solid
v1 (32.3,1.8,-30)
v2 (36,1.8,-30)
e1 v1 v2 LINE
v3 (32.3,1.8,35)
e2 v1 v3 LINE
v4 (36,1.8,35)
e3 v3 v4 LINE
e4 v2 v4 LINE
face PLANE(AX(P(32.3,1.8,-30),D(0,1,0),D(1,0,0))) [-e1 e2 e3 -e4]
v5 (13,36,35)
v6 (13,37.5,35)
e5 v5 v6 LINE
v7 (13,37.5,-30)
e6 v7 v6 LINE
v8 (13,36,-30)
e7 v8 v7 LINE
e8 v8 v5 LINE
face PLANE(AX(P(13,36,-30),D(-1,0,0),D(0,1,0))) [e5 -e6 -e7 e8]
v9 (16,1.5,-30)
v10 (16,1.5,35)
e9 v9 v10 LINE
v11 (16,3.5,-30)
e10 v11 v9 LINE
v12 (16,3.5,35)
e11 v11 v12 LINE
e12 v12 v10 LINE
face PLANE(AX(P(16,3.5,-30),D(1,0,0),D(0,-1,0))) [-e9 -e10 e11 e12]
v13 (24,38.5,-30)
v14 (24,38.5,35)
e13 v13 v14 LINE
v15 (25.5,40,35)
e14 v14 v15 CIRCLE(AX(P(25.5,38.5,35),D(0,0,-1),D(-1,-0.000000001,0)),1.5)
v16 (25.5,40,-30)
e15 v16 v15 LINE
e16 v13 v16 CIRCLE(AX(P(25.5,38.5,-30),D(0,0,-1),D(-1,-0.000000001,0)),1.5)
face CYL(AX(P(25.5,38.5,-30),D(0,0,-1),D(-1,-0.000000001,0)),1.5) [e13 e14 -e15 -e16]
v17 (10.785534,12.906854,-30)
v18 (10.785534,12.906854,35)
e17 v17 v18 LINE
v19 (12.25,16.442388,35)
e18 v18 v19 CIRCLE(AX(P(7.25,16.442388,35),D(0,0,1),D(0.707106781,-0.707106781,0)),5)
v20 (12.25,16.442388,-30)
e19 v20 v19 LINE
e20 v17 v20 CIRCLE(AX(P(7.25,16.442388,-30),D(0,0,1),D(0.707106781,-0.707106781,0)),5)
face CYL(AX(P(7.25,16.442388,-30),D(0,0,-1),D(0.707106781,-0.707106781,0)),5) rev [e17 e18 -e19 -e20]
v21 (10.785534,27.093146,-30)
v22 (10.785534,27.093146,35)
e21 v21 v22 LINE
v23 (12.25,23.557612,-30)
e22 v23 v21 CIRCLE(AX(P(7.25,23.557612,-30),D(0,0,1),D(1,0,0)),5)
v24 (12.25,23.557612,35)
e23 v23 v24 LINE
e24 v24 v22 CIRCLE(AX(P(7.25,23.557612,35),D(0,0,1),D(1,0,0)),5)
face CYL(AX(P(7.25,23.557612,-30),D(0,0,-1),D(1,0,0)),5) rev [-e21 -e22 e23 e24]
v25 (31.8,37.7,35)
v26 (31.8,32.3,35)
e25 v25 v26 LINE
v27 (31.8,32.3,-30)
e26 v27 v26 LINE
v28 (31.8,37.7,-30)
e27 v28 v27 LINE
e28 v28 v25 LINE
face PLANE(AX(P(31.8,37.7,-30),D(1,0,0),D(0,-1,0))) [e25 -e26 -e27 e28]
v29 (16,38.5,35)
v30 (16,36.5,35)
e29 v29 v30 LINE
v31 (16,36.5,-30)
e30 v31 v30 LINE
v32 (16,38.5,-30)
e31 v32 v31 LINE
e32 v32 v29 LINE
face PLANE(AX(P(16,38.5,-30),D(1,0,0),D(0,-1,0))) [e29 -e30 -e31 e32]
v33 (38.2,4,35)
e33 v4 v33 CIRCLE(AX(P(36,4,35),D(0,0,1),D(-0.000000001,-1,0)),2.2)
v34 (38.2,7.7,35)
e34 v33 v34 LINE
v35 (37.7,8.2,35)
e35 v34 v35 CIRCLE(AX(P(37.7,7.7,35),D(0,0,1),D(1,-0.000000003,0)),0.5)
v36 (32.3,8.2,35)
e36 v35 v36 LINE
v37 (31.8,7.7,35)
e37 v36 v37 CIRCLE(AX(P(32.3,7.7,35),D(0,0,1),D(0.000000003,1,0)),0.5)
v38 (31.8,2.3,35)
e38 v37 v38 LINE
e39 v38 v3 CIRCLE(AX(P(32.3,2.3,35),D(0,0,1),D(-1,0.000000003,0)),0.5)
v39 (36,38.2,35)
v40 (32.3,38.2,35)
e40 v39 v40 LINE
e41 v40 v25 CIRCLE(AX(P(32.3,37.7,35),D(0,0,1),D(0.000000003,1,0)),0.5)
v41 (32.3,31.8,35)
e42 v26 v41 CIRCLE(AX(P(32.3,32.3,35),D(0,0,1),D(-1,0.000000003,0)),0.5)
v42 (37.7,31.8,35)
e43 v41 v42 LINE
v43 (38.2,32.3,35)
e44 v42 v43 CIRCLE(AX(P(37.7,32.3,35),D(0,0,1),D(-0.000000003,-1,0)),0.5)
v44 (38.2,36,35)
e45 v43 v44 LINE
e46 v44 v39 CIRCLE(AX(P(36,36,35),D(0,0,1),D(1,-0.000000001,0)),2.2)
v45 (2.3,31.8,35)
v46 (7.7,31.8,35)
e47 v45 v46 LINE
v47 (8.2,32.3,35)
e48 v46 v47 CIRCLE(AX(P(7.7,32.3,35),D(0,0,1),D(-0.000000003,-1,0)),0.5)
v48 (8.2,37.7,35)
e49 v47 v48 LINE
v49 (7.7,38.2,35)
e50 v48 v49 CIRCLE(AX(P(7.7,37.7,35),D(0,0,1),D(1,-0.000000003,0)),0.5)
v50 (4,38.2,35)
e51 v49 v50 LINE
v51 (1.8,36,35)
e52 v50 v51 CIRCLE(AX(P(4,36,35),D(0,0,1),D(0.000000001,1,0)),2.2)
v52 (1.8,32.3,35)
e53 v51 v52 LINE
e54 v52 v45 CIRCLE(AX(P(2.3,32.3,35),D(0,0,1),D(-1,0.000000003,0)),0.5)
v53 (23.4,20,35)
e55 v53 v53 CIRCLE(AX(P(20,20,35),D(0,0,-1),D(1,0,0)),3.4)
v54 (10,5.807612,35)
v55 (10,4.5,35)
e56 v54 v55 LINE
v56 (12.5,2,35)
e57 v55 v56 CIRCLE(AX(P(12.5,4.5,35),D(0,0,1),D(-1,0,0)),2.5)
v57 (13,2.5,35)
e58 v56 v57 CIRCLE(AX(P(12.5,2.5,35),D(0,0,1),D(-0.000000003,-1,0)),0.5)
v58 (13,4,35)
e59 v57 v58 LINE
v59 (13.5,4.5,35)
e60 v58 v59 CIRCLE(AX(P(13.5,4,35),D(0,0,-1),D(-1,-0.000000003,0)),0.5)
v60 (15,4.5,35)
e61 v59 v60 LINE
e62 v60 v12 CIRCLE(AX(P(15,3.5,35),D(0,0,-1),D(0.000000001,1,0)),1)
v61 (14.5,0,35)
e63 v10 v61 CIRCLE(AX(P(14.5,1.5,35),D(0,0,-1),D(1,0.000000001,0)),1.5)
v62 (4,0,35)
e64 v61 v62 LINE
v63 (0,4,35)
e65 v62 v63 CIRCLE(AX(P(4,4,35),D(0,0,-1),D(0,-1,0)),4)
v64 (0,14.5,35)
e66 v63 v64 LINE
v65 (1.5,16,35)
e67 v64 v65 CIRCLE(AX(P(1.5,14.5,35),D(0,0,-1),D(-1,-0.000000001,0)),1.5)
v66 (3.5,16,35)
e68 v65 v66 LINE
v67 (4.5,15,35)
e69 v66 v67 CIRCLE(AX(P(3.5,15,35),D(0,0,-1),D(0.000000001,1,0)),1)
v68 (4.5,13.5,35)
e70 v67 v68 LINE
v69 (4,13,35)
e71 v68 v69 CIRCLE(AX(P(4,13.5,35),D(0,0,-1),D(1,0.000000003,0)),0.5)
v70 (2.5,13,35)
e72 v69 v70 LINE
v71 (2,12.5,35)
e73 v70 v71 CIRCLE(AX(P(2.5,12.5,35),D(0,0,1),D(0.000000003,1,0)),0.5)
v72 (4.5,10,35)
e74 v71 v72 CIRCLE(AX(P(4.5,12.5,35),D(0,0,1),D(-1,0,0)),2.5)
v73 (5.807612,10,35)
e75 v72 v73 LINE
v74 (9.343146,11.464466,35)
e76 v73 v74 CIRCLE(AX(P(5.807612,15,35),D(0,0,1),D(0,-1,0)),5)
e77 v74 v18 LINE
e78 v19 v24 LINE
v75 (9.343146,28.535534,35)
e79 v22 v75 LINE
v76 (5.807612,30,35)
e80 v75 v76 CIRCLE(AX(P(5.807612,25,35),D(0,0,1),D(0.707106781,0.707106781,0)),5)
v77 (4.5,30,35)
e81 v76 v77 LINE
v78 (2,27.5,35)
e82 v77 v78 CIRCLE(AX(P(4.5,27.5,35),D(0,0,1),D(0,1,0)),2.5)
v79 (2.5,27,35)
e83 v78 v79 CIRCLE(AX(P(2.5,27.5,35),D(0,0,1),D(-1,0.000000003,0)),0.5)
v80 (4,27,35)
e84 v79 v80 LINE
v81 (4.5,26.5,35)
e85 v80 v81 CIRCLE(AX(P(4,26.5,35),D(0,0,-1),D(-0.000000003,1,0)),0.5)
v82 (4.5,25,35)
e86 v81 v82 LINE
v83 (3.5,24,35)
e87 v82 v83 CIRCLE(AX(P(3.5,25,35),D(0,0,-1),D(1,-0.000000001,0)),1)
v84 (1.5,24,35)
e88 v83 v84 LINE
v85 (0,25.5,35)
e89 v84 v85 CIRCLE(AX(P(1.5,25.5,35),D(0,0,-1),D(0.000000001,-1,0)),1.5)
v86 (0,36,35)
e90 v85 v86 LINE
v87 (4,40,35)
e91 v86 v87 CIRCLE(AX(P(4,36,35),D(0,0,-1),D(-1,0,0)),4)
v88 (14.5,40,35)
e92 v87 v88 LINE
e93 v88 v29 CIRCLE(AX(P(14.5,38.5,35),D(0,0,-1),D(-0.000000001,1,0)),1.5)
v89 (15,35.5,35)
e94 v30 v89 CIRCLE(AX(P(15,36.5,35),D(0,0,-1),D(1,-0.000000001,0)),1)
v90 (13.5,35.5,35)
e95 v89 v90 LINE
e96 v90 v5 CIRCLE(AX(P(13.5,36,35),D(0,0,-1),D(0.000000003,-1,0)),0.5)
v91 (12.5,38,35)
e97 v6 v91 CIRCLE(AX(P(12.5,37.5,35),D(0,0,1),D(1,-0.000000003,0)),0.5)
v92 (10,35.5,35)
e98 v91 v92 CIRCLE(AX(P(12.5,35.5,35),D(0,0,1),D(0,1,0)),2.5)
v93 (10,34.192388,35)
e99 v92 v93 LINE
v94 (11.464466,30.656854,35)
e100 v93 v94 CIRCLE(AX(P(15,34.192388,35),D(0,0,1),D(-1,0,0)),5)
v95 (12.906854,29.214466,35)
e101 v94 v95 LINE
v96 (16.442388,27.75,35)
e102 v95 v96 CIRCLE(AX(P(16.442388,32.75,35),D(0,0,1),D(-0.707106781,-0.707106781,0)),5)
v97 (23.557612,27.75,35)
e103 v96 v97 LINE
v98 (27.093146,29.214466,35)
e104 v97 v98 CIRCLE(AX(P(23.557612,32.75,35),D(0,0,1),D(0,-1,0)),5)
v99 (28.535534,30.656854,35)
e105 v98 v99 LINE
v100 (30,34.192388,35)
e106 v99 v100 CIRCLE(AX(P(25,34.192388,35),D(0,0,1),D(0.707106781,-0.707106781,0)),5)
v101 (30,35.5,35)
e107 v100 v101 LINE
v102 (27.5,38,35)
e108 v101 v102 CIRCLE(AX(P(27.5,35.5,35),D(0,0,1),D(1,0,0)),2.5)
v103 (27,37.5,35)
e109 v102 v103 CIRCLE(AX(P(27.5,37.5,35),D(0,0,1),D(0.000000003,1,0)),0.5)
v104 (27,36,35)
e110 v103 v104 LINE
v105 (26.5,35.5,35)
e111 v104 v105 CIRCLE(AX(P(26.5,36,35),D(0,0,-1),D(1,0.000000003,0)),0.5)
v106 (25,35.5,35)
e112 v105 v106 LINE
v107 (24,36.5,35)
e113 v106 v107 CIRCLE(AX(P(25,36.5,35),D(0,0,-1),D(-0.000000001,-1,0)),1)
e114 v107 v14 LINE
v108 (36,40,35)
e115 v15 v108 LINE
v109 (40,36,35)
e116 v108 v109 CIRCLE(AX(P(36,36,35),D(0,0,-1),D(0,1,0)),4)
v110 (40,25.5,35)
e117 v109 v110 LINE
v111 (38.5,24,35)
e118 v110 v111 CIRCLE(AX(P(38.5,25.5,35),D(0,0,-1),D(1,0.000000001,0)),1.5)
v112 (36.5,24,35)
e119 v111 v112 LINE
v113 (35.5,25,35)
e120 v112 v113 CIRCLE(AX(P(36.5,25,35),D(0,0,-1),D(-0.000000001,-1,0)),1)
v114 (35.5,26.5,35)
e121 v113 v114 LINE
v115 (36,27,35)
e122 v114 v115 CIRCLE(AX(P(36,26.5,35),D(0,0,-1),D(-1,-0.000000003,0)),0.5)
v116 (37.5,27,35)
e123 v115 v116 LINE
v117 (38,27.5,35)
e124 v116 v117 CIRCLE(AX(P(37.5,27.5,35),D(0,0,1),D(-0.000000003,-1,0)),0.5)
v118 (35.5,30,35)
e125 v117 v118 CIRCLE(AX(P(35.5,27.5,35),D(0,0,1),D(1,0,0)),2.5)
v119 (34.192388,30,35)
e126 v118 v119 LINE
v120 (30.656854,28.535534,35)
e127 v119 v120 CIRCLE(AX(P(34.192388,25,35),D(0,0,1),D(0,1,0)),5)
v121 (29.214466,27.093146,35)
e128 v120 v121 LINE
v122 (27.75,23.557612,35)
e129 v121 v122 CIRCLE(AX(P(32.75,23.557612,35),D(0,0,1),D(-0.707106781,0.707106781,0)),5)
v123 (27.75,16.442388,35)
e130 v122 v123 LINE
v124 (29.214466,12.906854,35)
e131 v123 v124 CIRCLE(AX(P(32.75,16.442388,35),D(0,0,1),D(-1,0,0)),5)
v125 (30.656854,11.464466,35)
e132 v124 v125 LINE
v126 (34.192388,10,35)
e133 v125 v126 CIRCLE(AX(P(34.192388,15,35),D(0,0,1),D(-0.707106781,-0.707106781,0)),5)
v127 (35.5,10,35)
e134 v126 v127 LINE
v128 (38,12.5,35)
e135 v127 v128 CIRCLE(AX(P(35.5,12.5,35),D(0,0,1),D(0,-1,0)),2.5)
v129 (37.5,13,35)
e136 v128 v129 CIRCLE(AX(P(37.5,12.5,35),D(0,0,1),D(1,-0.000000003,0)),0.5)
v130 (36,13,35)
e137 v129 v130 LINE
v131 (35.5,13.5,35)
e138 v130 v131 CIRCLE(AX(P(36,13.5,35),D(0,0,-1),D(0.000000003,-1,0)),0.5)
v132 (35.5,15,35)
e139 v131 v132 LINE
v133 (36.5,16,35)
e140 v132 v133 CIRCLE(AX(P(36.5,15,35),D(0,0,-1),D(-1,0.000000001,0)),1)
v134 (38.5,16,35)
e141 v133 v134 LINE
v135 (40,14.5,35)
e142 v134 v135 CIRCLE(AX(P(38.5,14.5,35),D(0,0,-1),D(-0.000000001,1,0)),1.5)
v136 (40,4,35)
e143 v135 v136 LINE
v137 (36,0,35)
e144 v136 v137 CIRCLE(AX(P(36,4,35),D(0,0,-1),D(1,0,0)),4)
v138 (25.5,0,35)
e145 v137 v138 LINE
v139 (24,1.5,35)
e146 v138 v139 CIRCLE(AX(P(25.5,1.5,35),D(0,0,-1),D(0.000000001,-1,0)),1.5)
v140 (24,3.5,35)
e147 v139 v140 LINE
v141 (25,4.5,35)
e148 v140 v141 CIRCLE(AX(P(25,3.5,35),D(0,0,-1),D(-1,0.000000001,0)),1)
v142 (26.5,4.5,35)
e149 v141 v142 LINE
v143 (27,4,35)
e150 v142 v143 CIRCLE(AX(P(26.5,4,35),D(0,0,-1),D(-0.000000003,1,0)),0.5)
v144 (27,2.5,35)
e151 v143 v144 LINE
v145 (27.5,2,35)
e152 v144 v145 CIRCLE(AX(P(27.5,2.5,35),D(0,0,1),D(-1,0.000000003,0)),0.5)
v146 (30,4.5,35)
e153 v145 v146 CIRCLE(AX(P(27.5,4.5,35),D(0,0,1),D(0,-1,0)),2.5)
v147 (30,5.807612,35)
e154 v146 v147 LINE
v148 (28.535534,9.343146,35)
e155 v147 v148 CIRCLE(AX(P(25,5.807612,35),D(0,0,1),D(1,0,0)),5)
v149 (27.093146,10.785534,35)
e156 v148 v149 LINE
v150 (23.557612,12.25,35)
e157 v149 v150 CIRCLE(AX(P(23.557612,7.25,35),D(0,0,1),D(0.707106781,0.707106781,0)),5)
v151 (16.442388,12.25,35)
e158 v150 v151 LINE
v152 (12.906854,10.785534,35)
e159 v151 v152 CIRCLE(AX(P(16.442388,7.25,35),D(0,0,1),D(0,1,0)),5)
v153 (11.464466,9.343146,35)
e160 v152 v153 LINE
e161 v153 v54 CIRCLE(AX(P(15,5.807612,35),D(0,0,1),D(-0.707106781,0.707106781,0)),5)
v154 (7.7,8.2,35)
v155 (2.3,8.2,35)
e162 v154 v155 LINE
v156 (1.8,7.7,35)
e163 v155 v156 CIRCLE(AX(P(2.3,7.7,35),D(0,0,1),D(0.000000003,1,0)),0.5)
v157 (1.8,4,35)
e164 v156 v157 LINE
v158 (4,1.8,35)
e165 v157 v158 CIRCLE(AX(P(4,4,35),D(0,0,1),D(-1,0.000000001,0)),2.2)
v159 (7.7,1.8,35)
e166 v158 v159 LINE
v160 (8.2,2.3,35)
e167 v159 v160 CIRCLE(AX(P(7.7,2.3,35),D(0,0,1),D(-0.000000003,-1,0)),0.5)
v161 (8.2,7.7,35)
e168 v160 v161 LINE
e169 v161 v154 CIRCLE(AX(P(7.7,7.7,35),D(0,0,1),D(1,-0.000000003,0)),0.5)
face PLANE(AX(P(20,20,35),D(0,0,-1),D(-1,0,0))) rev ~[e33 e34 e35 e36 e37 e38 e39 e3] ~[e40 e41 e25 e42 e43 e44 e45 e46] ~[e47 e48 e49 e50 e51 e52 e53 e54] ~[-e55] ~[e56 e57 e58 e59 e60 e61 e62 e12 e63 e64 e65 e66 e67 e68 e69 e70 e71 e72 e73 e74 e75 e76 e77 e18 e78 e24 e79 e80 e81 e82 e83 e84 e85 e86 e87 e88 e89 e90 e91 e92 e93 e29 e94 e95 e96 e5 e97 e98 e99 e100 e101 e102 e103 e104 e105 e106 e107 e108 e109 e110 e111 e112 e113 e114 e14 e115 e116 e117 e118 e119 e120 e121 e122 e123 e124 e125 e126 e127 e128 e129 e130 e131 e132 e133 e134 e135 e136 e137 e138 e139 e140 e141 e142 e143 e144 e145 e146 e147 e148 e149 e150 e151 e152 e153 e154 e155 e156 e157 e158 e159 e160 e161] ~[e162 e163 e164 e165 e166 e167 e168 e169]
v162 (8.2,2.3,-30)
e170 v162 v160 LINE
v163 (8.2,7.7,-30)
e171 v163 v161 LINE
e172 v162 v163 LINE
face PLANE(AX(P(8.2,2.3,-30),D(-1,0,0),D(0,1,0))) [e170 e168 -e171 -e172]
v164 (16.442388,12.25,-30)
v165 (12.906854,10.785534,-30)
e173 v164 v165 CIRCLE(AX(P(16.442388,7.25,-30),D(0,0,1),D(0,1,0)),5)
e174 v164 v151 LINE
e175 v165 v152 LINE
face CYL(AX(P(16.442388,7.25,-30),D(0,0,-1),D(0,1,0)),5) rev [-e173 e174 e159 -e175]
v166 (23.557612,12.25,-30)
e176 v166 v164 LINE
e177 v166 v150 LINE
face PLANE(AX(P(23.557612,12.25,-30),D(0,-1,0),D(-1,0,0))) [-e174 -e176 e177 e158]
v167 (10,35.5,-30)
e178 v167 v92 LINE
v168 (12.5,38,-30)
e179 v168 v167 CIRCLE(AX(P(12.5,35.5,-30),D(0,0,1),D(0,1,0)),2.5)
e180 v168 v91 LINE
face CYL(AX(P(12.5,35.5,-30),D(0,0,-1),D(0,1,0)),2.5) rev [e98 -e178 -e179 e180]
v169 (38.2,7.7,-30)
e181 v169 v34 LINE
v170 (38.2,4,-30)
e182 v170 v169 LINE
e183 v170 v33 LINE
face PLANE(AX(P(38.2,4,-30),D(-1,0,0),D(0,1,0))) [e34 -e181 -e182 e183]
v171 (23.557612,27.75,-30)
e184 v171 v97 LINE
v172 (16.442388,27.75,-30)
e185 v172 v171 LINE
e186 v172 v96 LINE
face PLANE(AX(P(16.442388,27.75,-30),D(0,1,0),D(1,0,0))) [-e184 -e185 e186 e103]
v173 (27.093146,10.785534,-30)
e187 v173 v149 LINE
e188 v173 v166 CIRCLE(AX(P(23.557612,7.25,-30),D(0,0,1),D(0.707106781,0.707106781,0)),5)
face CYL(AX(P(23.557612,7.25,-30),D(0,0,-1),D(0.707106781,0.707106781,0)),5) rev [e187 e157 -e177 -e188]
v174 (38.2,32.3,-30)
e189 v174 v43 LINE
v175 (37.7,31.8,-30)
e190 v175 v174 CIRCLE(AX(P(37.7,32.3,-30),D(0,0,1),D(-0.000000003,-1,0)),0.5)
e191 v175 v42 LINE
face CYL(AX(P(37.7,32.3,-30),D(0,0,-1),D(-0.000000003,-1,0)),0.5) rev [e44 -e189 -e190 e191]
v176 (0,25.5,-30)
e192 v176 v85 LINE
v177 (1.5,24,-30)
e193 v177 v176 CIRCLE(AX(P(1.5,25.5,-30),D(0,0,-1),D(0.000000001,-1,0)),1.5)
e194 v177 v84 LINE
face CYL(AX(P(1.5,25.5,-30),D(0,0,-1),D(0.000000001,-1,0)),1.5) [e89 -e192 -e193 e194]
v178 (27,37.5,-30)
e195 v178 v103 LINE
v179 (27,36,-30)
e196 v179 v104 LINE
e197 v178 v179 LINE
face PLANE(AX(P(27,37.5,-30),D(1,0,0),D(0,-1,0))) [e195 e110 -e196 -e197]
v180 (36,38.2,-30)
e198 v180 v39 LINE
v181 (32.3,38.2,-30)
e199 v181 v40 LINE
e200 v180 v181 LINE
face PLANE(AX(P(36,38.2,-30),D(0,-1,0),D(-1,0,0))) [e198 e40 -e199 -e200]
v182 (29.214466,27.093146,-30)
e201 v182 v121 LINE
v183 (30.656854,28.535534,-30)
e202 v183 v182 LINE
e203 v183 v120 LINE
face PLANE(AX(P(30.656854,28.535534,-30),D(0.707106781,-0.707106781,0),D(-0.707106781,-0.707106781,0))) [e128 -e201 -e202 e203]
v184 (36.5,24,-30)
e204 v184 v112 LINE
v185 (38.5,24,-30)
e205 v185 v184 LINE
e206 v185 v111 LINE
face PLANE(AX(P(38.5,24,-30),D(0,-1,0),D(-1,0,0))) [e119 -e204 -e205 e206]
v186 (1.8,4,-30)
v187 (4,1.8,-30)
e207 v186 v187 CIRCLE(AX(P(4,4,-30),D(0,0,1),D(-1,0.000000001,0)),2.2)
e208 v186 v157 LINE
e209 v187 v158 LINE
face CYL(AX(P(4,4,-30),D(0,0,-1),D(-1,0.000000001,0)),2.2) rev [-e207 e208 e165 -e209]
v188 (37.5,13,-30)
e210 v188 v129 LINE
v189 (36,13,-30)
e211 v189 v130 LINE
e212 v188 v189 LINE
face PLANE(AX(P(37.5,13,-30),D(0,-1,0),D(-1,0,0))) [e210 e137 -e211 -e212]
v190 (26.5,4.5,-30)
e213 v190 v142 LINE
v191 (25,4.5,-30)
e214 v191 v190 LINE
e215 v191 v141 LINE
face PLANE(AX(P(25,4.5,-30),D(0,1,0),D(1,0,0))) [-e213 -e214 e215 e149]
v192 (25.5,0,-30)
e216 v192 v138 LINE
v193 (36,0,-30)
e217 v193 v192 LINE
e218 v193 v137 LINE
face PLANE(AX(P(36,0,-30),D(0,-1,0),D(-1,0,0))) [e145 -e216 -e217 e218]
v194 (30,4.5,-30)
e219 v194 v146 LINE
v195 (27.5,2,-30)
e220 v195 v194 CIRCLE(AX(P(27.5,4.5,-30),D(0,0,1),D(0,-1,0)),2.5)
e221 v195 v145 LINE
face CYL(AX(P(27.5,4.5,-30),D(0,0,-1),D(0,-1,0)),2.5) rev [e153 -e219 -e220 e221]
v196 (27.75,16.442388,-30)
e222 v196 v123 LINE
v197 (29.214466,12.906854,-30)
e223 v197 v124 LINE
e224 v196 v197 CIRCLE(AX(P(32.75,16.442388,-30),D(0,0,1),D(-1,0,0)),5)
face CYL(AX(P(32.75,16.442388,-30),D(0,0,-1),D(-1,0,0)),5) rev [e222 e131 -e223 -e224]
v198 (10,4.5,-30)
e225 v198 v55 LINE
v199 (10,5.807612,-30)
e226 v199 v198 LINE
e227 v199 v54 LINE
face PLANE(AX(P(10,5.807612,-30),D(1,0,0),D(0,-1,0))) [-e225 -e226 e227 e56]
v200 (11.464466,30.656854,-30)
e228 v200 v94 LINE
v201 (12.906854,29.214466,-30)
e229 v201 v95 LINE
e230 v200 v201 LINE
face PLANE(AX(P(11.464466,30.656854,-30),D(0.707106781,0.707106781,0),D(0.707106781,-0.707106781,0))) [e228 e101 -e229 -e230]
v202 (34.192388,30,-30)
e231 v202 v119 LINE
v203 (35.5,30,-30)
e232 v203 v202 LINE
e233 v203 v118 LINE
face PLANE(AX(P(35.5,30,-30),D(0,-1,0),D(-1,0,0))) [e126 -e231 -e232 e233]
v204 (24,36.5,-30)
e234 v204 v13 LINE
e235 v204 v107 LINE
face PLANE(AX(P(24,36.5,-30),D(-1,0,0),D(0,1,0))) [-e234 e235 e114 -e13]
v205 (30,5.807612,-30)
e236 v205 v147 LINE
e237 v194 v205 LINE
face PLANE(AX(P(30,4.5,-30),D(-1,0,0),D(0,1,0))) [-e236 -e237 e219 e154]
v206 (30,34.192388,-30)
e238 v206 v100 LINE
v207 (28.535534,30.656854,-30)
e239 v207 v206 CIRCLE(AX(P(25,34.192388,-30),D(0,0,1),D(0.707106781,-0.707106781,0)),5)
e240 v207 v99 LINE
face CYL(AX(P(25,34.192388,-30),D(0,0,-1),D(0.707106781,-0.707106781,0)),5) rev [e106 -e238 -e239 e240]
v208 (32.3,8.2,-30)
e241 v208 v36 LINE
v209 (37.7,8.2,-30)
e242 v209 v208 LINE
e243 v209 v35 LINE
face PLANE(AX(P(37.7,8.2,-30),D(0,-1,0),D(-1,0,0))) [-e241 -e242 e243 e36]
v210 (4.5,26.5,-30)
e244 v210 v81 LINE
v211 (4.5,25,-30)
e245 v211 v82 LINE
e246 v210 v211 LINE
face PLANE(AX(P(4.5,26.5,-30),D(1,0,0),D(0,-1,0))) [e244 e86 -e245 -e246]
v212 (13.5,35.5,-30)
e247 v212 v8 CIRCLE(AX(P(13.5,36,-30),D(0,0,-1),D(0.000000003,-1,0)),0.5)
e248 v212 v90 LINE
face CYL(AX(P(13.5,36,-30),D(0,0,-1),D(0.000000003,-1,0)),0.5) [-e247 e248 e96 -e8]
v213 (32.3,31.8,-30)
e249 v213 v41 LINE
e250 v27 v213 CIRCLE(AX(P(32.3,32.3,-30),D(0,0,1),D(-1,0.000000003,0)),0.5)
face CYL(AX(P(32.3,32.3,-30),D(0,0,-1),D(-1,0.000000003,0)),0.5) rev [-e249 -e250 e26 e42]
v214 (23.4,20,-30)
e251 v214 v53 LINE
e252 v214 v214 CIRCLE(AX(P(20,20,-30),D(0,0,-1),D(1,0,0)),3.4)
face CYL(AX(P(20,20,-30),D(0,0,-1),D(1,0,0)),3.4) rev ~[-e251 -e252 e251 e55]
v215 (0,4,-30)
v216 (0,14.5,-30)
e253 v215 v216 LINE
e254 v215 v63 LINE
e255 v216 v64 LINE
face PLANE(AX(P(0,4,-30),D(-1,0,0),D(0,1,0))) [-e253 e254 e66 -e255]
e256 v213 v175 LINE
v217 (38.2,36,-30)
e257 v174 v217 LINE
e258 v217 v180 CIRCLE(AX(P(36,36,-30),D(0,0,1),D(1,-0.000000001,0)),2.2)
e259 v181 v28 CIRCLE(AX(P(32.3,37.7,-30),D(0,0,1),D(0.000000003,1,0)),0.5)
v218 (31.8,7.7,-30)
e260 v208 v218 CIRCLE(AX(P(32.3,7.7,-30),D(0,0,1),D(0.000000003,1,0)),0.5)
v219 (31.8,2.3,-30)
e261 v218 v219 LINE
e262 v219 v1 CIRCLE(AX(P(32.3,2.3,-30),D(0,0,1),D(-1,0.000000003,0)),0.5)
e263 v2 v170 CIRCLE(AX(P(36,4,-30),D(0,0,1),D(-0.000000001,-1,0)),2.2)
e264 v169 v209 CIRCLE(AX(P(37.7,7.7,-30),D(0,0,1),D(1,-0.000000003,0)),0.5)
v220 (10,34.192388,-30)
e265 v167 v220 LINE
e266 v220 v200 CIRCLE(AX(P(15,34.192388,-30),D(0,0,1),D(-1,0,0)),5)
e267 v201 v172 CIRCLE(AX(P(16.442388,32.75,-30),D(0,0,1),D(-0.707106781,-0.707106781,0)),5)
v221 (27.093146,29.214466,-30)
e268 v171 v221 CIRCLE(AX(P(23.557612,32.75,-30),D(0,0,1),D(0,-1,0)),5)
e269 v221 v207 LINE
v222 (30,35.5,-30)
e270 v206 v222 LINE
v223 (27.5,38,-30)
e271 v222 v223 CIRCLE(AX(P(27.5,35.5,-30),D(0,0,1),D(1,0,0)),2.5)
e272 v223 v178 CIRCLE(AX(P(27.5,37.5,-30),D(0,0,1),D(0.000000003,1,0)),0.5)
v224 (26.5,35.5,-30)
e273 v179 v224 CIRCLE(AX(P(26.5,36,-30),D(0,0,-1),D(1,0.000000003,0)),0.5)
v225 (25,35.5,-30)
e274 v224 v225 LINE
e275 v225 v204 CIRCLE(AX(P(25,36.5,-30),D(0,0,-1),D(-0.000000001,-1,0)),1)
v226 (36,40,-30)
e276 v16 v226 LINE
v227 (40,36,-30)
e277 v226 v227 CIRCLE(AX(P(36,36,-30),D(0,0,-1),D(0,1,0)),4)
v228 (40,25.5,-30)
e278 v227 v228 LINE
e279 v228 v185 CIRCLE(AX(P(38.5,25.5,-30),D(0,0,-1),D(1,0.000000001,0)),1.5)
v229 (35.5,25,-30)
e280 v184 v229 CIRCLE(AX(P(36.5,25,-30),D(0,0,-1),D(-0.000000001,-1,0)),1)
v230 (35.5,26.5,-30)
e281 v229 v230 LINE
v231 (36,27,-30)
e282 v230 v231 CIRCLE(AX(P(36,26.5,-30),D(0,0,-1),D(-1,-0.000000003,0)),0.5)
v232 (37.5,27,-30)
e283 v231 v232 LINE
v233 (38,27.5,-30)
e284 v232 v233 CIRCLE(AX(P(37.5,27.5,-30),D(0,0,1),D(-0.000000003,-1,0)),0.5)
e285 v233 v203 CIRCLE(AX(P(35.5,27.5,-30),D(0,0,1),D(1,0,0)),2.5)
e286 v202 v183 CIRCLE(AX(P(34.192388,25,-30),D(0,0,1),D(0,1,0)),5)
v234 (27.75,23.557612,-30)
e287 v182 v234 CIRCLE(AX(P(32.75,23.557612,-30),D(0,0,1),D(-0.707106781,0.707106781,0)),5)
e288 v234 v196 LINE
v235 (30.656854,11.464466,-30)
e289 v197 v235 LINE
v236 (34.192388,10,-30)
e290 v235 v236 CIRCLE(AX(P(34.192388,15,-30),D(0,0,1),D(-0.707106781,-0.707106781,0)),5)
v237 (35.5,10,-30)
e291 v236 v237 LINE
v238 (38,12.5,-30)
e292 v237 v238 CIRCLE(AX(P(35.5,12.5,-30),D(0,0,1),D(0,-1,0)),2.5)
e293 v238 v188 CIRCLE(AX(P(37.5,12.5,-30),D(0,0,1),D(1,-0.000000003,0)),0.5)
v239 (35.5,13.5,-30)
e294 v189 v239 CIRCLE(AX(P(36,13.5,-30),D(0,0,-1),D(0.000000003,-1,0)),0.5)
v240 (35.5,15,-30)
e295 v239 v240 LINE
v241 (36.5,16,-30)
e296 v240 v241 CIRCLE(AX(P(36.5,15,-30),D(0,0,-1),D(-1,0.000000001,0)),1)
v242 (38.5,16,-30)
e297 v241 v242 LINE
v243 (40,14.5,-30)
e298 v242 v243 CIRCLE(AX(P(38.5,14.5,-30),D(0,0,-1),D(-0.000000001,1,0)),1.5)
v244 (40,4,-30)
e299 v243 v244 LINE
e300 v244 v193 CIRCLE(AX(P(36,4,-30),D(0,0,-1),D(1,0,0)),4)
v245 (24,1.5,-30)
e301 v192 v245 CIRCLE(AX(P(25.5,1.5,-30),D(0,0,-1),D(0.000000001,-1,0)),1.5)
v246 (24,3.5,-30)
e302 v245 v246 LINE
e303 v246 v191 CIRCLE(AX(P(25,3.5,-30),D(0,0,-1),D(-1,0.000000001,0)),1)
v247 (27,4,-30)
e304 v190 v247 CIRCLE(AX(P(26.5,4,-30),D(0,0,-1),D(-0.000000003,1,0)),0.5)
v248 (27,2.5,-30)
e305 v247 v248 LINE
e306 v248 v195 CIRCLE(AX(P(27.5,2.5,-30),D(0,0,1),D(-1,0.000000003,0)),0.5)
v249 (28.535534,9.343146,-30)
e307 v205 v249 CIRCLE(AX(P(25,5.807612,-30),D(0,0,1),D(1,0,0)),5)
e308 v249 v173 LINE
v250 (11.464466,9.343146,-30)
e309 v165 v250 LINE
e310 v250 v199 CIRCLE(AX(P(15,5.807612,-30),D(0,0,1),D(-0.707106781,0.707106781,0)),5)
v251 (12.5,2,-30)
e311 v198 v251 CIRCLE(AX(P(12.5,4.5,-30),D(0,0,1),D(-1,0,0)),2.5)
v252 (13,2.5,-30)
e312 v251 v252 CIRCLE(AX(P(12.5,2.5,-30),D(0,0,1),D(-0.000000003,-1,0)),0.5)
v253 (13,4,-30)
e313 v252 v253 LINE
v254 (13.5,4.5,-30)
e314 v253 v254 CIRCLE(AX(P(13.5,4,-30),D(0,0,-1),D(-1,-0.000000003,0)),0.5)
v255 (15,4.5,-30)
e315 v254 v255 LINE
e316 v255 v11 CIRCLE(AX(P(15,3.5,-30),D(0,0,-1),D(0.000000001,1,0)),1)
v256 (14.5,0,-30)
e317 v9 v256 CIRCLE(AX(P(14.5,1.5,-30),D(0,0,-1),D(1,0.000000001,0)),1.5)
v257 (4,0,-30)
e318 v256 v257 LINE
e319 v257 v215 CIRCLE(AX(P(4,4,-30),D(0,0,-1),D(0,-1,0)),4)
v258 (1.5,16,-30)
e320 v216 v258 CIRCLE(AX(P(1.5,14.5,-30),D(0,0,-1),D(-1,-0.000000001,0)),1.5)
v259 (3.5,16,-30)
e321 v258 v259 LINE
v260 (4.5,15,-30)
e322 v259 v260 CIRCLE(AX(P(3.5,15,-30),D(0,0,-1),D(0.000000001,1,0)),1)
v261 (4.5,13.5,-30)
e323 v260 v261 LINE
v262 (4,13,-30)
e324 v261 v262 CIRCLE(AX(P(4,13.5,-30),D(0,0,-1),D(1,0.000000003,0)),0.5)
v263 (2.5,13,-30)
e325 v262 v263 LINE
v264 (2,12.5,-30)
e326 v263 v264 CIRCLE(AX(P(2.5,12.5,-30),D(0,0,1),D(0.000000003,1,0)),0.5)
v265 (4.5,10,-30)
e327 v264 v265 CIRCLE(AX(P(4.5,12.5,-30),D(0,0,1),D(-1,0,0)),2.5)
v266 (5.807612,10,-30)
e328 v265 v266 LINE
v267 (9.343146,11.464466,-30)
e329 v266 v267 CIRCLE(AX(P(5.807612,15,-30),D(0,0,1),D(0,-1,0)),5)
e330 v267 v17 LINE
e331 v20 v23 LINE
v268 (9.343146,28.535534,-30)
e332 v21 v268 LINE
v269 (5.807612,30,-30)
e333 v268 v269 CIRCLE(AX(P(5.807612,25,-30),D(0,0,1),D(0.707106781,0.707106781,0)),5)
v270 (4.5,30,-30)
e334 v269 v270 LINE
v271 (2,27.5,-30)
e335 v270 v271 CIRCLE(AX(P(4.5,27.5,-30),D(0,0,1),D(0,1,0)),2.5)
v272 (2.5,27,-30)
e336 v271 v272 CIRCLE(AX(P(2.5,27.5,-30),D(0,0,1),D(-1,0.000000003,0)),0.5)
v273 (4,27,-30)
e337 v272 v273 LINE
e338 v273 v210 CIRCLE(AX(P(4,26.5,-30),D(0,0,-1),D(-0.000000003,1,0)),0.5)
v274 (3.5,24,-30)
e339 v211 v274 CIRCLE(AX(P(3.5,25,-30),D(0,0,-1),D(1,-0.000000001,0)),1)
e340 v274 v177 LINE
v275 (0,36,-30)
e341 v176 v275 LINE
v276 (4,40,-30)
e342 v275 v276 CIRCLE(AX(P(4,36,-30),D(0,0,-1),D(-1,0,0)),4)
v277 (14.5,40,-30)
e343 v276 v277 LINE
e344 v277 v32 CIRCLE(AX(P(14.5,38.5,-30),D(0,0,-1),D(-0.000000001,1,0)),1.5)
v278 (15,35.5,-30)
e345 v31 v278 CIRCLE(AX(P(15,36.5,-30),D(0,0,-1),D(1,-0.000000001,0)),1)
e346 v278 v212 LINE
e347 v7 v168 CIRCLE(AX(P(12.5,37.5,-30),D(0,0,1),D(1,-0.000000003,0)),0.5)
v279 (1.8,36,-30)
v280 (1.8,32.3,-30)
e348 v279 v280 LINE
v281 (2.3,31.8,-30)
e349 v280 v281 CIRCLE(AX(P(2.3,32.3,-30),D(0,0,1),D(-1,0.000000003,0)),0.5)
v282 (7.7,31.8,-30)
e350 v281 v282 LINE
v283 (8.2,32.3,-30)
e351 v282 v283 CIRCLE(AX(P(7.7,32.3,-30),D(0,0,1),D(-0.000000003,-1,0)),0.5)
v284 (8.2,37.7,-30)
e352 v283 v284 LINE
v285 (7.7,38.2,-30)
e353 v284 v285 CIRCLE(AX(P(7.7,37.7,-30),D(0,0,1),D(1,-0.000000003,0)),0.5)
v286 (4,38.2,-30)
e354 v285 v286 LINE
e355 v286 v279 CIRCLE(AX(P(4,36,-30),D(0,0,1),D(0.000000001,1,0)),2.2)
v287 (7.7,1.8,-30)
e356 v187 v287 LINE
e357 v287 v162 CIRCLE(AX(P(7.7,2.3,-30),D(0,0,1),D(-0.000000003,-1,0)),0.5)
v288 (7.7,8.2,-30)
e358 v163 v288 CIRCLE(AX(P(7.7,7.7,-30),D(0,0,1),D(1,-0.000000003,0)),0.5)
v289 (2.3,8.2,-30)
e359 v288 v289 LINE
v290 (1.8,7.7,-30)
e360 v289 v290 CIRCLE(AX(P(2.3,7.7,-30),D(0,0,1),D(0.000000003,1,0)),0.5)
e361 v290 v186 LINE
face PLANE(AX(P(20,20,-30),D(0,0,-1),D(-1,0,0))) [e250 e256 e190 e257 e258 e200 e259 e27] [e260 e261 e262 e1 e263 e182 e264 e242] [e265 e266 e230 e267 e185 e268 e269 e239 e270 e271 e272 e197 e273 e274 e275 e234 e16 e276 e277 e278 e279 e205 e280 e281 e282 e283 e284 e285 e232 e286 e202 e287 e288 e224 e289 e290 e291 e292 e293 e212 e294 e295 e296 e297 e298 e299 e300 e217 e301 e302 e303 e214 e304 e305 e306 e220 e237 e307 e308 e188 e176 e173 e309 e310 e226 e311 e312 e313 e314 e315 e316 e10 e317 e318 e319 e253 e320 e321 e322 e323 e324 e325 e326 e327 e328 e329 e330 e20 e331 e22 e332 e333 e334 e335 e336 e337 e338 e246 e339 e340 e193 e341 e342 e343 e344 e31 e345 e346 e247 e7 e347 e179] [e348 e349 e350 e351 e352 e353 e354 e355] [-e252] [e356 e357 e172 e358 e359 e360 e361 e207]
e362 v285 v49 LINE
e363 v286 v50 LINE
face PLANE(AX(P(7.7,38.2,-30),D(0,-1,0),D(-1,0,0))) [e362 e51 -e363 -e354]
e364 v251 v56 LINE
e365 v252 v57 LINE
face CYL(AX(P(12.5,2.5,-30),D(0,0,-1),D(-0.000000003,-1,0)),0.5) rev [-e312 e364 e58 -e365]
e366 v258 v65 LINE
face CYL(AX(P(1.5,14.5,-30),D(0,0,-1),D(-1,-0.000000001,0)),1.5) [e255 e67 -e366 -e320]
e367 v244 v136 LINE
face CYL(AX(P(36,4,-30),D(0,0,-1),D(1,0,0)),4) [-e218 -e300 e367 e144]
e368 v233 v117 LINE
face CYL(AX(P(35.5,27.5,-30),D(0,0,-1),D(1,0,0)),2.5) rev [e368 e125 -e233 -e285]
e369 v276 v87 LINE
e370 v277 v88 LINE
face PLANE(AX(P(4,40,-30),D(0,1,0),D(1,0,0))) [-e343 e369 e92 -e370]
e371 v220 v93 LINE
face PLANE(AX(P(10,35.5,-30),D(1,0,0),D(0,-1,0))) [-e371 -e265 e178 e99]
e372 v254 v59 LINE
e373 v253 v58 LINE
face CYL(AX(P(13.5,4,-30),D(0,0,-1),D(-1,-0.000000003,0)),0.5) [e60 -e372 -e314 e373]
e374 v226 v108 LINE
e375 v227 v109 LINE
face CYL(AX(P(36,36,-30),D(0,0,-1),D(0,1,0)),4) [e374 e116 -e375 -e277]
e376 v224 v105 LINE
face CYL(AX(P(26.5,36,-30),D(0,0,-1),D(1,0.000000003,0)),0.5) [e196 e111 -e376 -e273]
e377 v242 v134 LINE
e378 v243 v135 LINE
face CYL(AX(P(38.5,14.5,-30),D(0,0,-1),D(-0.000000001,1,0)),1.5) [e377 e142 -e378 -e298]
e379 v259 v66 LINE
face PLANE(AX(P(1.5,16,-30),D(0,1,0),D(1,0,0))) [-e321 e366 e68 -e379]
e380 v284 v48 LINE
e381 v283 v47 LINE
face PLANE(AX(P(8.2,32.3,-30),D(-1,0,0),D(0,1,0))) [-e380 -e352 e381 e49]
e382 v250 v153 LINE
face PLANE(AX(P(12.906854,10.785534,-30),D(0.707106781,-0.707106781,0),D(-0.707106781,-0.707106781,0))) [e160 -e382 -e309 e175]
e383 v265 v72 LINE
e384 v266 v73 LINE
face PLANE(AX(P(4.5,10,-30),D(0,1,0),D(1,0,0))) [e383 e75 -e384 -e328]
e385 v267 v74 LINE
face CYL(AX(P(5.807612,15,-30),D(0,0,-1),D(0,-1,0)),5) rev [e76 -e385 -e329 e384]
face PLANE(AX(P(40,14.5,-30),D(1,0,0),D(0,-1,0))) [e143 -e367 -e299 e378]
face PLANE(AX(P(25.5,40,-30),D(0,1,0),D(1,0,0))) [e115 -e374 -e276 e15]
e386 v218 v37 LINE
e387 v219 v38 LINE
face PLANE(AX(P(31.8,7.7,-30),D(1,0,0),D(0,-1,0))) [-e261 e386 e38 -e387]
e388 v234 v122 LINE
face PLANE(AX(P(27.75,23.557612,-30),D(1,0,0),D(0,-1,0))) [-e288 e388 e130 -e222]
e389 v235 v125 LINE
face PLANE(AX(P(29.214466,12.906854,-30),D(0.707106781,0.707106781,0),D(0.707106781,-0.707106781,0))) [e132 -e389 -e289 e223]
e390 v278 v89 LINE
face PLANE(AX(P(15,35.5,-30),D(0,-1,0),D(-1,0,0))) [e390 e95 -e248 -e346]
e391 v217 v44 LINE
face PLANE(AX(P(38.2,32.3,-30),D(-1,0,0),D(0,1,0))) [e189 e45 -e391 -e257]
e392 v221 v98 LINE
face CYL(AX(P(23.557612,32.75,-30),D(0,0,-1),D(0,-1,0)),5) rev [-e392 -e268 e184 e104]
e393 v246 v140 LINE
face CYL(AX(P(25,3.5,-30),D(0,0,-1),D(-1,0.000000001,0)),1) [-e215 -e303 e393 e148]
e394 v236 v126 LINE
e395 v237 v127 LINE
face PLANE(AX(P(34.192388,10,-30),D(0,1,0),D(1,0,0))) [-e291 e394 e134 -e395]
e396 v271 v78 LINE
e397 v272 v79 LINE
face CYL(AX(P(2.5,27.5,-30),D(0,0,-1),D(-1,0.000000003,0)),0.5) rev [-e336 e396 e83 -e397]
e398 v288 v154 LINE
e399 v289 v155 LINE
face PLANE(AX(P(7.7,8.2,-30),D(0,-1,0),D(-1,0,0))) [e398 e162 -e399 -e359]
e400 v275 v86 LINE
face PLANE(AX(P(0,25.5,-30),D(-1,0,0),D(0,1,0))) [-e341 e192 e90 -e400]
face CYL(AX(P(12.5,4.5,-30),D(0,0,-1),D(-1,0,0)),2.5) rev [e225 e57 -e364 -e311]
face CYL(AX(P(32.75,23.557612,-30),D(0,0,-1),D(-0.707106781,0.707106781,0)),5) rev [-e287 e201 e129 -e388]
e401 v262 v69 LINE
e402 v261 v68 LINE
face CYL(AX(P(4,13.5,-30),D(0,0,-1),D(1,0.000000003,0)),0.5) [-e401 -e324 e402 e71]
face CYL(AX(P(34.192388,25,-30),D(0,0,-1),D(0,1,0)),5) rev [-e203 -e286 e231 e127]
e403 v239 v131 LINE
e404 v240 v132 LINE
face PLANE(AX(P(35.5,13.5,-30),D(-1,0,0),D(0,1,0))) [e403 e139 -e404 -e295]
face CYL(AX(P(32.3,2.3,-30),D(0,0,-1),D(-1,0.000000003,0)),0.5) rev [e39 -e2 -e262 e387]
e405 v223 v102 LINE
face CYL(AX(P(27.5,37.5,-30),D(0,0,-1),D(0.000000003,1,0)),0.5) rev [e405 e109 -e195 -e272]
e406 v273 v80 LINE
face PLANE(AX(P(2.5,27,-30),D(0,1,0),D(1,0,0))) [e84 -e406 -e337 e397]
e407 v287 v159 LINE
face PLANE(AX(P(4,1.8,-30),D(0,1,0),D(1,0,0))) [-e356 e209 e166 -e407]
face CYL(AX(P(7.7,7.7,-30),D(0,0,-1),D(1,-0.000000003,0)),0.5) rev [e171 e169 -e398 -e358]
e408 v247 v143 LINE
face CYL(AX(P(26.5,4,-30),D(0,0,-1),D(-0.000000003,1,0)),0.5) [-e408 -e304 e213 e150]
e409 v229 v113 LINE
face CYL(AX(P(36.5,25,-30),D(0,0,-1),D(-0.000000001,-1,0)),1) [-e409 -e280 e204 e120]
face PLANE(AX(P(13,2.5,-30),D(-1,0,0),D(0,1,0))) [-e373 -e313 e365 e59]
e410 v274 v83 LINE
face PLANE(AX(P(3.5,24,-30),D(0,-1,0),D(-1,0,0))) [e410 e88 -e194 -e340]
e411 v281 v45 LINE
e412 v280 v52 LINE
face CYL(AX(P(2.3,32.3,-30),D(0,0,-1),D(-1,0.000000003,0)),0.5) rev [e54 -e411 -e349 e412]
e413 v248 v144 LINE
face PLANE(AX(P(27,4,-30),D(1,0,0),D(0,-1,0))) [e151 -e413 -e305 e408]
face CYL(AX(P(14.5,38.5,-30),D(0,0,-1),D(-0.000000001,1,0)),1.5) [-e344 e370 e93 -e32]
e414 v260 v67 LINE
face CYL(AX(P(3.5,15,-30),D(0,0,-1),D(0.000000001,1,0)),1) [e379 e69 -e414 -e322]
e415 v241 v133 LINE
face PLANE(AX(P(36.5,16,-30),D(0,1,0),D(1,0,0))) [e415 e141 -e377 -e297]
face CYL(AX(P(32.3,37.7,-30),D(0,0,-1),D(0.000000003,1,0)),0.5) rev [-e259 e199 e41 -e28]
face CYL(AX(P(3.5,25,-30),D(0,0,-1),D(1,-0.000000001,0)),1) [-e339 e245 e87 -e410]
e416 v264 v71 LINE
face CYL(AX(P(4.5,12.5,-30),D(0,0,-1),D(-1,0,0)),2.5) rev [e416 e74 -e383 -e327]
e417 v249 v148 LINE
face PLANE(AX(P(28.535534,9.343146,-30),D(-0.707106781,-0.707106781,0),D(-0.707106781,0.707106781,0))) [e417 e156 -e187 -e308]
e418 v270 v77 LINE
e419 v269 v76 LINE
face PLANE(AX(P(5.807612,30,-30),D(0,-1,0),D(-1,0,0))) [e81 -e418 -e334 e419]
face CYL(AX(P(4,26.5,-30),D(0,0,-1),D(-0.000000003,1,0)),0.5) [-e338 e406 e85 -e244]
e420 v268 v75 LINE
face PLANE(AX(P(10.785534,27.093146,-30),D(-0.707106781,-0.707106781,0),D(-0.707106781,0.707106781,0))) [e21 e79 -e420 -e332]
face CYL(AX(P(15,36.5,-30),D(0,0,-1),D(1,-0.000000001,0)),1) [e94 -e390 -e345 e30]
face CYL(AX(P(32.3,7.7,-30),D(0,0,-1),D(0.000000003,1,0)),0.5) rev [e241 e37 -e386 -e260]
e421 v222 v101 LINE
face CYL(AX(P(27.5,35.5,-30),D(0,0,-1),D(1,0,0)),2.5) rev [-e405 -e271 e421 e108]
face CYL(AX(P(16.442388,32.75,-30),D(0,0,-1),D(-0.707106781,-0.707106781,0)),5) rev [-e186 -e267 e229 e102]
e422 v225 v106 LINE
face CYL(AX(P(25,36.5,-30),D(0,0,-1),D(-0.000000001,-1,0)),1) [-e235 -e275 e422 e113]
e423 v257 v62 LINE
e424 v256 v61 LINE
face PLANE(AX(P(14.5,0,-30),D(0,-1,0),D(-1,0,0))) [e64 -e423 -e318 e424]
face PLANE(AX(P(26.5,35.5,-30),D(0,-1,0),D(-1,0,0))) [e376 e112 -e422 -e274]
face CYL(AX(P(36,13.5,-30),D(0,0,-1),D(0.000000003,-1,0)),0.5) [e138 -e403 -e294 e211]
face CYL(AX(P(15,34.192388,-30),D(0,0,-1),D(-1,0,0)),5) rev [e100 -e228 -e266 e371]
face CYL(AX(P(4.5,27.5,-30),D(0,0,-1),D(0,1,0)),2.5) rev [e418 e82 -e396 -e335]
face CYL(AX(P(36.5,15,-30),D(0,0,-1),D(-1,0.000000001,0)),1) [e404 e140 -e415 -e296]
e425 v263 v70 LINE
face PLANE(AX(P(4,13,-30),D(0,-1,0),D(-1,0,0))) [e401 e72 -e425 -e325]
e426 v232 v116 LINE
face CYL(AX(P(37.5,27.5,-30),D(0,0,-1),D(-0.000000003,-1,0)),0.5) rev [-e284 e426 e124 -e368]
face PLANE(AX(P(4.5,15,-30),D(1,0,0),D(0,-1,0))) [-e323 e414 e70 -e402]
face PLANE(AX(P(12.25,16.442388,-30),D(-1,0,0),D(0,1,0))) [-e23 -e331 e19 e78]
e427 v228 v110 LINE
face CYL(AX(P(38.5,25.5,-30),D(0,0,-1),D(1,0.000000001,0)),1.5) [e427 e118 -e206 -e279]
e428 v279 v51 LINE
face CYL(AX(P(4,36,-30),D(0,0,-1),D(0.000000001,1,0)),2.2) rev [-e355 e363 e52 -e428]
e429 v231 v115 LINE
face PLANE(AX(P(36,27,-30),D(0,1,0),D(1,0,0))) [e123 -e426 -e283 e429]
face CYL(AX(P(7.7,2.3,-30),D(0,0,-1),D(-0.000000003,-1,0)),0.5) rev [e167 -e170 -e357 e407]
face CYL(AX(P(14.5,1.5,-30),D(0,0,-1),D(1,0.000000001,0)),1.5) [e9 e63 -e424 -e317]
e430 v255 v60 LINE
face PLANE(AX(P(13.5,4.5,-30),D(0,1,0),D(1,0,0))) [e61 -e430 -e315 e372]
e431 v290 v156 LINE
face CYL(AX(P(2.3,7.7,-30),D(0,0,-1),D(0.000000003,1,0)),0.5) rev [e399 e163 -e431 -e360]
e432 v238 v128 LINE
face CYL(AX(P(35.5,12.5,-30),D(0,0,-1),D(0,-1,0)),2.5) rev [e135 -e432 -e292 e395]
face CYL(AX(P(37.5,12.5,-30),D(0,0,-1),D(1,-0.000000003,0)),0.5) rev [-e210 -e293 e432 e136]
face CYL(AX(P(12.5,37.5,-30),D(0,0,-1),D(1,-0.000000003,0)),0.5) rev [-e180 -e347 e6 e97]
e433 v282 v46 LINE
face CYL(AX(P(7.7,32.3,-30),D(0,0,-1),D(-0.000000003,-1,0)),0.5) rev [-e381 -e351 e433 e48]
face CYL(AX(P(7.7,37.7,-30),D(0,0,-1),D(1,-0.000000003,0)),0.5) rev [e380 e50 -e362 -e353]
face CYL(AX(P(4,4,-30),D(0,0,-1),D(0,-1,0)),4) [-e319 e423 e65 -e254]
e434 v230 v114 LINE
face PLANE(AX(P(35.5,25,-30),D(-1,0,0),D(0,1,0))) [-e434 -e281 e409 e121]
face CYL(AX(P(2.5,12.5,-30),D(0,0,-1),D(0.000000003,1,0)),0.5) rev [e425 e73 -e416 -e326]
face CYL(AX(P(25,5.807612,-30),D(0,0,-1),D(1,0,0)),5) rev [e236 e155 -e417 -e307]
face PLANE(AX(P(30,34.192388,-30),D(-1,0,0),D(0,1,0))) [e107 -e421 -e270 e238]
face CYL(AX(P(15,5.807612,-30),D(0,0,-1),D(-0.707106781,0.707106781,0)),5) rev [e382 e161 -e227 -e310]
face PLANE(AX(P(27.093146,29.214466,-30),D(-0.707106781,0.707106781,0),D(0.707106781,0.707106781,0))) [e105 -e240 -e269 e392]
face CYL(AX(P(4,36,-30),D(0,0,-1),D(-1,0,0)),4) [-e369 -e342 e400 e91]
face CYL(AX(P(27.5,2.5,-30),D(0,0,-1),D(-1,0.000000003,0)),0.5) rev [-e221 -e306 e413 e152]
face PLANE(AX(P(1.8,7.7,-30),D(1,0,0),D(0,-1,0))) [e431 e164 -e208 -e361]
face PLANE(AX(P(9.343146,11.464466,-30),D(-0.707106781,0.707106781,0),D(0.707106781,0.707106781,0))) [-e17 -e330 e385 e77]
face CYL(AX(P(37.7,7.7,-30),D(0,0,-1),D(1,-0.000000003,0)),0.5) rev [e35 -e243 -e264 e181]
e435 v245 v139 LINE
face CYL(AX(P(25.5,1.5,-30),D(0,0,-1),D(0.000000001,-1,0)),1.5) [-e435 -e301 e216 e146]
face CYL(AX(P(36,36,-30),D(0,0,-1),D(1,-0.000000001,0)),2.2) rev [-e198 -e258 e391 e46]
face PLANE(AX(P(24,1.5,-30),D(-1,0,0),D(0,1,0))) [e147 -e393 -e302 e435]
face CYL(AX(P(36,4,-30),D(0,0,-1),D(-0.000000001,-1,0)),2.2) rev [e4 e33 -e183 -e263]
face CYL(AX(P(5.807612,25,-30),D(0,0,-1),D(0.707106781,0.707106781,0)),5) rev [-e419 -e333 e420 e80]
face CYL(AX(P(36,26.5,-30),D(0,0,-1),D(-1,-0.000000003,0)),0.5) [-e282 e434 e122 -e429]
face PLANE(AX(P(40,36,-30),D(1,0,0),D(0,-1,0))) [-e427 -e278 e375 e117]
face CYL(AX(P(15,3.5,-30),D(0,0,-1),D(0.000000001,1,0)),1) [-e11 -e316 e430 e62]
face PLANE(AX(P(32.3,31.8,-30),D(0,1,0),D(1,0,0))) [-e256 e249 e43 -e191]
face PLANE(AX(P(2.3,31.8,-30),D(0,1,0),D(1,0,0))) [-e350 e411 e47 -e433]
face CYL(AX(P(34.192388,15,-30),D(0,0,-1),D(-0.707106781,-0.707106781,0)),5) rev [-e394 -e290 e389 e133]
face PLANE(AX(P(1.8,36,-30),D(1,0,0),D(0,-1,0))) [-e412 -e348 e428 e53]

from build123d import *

# Parameters (mm, degrees)
ESQUISSE1_R        = 3.4
BOSS_EXTRU_1_DEPTH = 65


with BuildPart() as part:
    # Esquisse1 → Boss.-Extru.1 (new body)
    with BuildSketch(Plane(origin=(0, 0, -30), x_dir=(-1, 0, 0), z_dir=(0, 0, -1))):
        with BuildLine():
            Line((-4.5, 15), (-4.5, 13.5))
            ThreePointArc((-4.5, 13.5), (-4.353553391, 13.146446609), (-4, 13))
            Line((-4, 13), (-2.5, 13))
            ThreePointArc((-2.5, 13), (-2.146446609, 12.853553391), (-2, 12.5))
            ThreePointArc((-2, 12.5), (-2.732233047, 10.732233047), (-4.5, 10))
            Line((-4.5, 10), (-5.807611845, 10))
            ThreePointArc((-5.807611845, 10), (-7.721029006, 10.380602337), (-9.343145751, 11.464466094))
            Line((-9.343145751, 11.464466094), (-10.785533906, 12.906854249))
            ThreePointArc((-10.785533906, 12.906854249), (-11.869397663, 14.528970994), (-12.25, 16.442388155))
            Line((-12.25, 16.442388155), (-12.25, 23.557611845))
            ThreePointArc((-12.25, 23.557611845), (-11.869397663, 25.471029006), (-10.785533906, 27.093145751))
            Line((-10.785533906, 27.093145751), (-9.343145751, 28.535533906))
            ThreePointArc((-9.343145751, 28.535533906), (-7.721029006, 29.619397663), (-5.807611845, 30))
            Line((-5.807611845, 30), (-4.5, 30))
            ThreePointArc((-4.5, 30), (-2.732233047, 29.267766953), (-2, 27.5))
            ThreePointArc((-2, 27.5), (-2.146446609, 27.146446609), (-2.5, 27))
            Line((-2.5, 27), (-4, 27))
            ThreePointArc((-4, 27), (-4.353553391, 26.853553391), (-4.5, 26.5))
            Line((-4.5, 26.5), (-4.5, 25))
            ThreePointArc((-4.5, 25), (-4.207106781, 24.292893219), (-3.5, 24))
            Line((-3.5, 24), (-1.5, 24))
            ThreePointArc((-1.5, 24), (-0.439339828, 24.439339828), (0, 25.5))
            Line((0, 25.5), (0, 36))
            ThreePointArc((0, 36), (-1.171572875, 38.828427125), (-4, 40))
            Line((-4, 40), (-14.5, 40))
            ThreePointArc((-14.5, 40), (-15.560660172, 39.560660172), (-16, 38.5))
            Line((-16, 38.5), (-16, 36.5))
            ThreePointArc((-16, 36.5), (-15.707106781, 35.792893219), (-15, 35.5))
            Line((-15, 35.5), (-13.5, 35.5))
            ThreePointArc((-13.5, 35.5), (-13.146446609, 35.646446609), (-13, 36))
            Line((-13, 36), (-13, 37.5))
            ThreePointArc((-13, 37.5), (-12.853553391, 37.853553391), (-12.5, 38))
            ThreePointArc((-12.5, 38), (-10.732233047, 37.267766953), (-10, 35.5))
            Line((-10, 35.5), (-10, 34.192388155))
            ThreePointArc((-10, 34.192388155), (-10.380602337, 32.278970994), (-11.464466094, 30.656854249))
            Line((-11.464466094, 30.656854249), (-12.906854249, 29.214466094))
            ThreePointArc((-12.906854249, 29.214466094), (-14.528970994, 28.130602337), (-16.442388155, 27.75))
            Line((-16.442388155, 27.75), (-23.557611845, 27.75))
            ThreePointArc((-23.557611845, 27.75), (-25.471029006, 28.130602337), (-27.093145751, 29.214466094))
            Line((-27.093145751, 29.214466094), (-28.535533906, 30.656854249))
            ThreePointArc((-28.535533906, 30.656854249), (-29.619397663, 32.278970994), (-30, 34.192388155))
            Line((-30, 34.192388155), (-30, 35.5))
            ThreePointArc((-30, 35.5), (-29.267766953, 37.267766953), (-27.5, 38))
            ThreePointArc((-27.5, 38), (-27.146446609, 37.853553391), (-27, 37.5))
            Line((-27, 37.5), (-27, 36))
            ThreePointArc((-27, 36), (-26.853553391, 35.646446609), (-26.5, 35.5))
            Line((-26.5, 35.5), (-25, 35.5))
            ThreePointArc((-25, 35.5), (-24.292893219, 35.792893219), (-24, 36.5))
            Line((-24, 36.5), (-24, 38.5))
            ThreePointArc((-24, 38.5), (-24.439339828, 39.560660172), (-25.5, 40))
            Line((-25.5, 40), (-36, 40))
            ThreePointArc((-36, 40), (-38.828427125, 38.828427125), (-40, 36))
            Line((-40, 36), (-40, 25.5))
            ThreePointArc((-40, 25.5), (-39.560660172, 24.439339828), (-38.5, 24))
            Line((-38.5, 24), (-36.5, 24))
            ThreePointArc((-36.5, 24), (-35.792893219, 24.292893219), (-35.5, 25))
            Line((-35.5, 25), (-35.5, 26.5))
            ThreePointArc((-35.5, 26.5), (-35.646446609, 26.853553391), (-36, 27))
            Line((-36, 27), (-37.5, 27))
            ThreePointArc((-37.5, 27), (-37.853553391, 27.146446609), (-38, 27.5))
            ThreePointArc((-38, 27.5), (-37.267766953, 29.267766953), (-35.5, 30))
            Line((-35.5, 30), (-34.192388155, 30))
            ThreePointArc((-34.192388155, 30), (-32.278970994, 29.619397663), (-30.656854249, 28.535533906))
            Line((-30.656854249, 28.535533906), (-29.214466094, 27.093145751))
            ThreePointArc((-29.214466094, 27.093145751), (-28.130602337, 25.471029006), (-27.75, 23.557611845))
            Line((-27.75, 23.557611845), (-27.75, 16.442388155))
            ThreePointArc((-27.75, 16.442388155), (-28.130602337, 14.528970994), (-29.214466094, 12.906854249))
            Line((-29.214466094, 12.906854249), (-30.656854249, 11.464466094))
            ThreePointArc((-30.656854249, 11.464466094), (-32.278970994, 10.380602337), (-34.192388155, 10))
            Line((-34.192388155, 10), (-35.5, 10))
            ThreePointArc((-35.5, 10), (-37.267766953, 10.732233047), (-38, 12.5))
            ThreePointArc((-38, 12.5), (-37.853553391, 12.853553391), (-37.5, 13))
            Line((-37.5, 13), (-36, 13))
            ThreePointArc((-36, 13), (-35.646446609, 13.146446609), (-35.5, 13.5))
            Line((-35.5, 13.5), (-35.5, 15))
            ThreePointArc((-35.5, 15), (-35.792893219, 15.707106781), (-36.5, 16))
            Line((-36.5, 16), (-38.5, 16))
            ThreePointArc((-38.5, 16), (-39.560660172, 15.560660172), (-40, 14.5))
            Line((-40, 14.5), (-40, 4))
            ThreePointArc((-40, 4), (-38.828427125, 1.171572875), (-36, 0))
            Line((-36, 0), (-25.5, 0))
            ThreePointArc((-25.5, 0), (-24.439339828, 0.439339828), (-24, 1.5))
            Line((-24, 1.5), (-24, 3.5))
            ThreePointArc((-24, 3.5), (-24.292893219, 4.207106781), (-25, 4.5))
            Line((-25, 4.5), (-26.5, 4.5))
            ThreePointArc((-26.5, 4.5), (-26.853553391, 4.353553391), (-27, 4))
            Line((-27, 4), (-27, 2.5))
            ThreePointArc((-27, 2.5), (-27.146446609, 2.146446609), (-27.5, 2))
            ThreePointArc((-27.5, 2), (-29.267766953, 2.732233047), (-30, 4.5))
            Line((-30, 4.5), (-30, 5.807611845))
            ThreePointArc((-30, 5.807611845), (-29.619397663, 7.721029006), (-28.535533906, 9.343145751))
            Line((-28.535533906, 9.343145751), (-27.093145751, 10.785533906))
            ThreePointArc((-27.093145751, 10.785533906), (-25.471029006, 11.869397663), (-23.557611845, 12.25))
            Line((-23.557611845, 12.25), (-16.442388155, 12.25))
            ThreePointArc((-16.442388155, 12.25), (-14.528970994, 11.869397663), (-12.906854249, 10.785533906))
            Line((-12.906854249, 10.785533906), (-11.464466094, 9.343145751))
            ThreePointArc((-11.464466094, 9.343145751), (-10.380602337, 7.721029006), (-10, 5.807611845))
            Line((-10, 5.807611845), (-10, 4.5))
            ThreePointArc((-10, 4.5), (-10.732233047, 2.732233047), (-12.5, 2))
            ThreePointArc((-12.5, 2), (-12.853553391, 2.146446609), (-13, 2.5))
            Line((-13, 2.5), (-13, 4))
            ThreePointArc((-13, 4), (-13.146446609, 4.353553391), (-13.5, 4.5))
            Line((-13.5, 4.5), (-15, 4.5))
            ThreePointArc((-15, 4.5), (-15.707106781, 4.207106781), (-16, 3.5))
            Line((-16, 3.5), (-16, 1.5))
            ThreePointArc((-16, 1.5), (-15.560660172, 0.439339828), (-14.5, 0))
            Line((-14.5, 0), (-4, 0))
            ThreePointArc((-4, 0), (-1.171572875, 1.171572875), (0, 4))
            Line((0, 4), (0, 14.5))
            ThreePointArc((0, 14.5), (-0.439339828, 15.560660172), (-1.5, 16))
            Line((-1.5, 16), (-3.5, 16))
            ThreePointArc((-3.5, 16), (-4.207106781, 15.707106781), (-4.5, 15))
        make_face()
        with Locations(Location((-20, 20, 0), (0, 0, 180))):
            Circle(ESQUISSE1_R, mode=Mode.SUBTRACT)
        with BuildLine():
            Line((-4, 1.8), (-7.7, 1.8))
            ThreePointArc((-7.7, 1.8), (-8.053553391, 1.946446609), (-8.2, 2.3))
            Line((-8.2, 2.3), (-8.2, 7.7))
            ThreePointArc((-8.2, 7.7), (-8.053553391, 8.053553391), (-7.7, 8.2))
            Line((-7.7, 8.2), (-2.3, 8.2))
            ThreePointArc((-2.3, 8.2), (-1.946446609, 8.053553391), (-1.8, 7.7))
            Line((-1.8, 7.7), (-1.8, 4))
            ThreePointArc((-1.8, 4), (-2.444365081, 2.444365081), (-4, 1.8))
        make_face(mode=Mode.SUBTRACT)
        with BuildLine():
            Line((-38.2, 4), (-38.2, 7.7))
            ThreePointArc((-38.2, 7.7), (-38.053553391, 8.053553391), (-37.7, 8.2))
            Line((-37.7, 8.2), (-32.3, 8.2))
            ThreePointArc((-32.3, 8.2), (-31.946446609, 8.053553391), (-31.8, 7.7))
            Line((-31.8, 7.7), (-31.8, 2.3))
            ThreePointArc((-31.8, 2.3), (-31.946446609, 1.946446609), (-32.3, 1.8))
            Line((-32.3, 1.8), (-36, 1.8))
            ThreePointArc((-36, 1.8), (-37.555634919, 2.444365081), (-38.2, 4))
        make_face(mode=Mode.SUBTRACT)
        with BuildLine():
            Line((-36, 38.2), (-32.3, 38.2))
            ThreePointArc((-32.3, 38.2), (-31.946446609, 38.053553391), (-31.8, 37.7))
            Line((-31.8, 37.7), (-31.8, 32.3))
            ThreePointArc((-31.8, 32.3), (-31.946446609, 31.946446609), (-32.3, 31.8))
            Line((-32.3, 31.8), (-37.7, 31.8))
            ThreePointArc((-37.7, 31.8), (-38.053553391, 31.946446609), (-38.2, 32.3))
            Line((-38.2, 32.3), (-38.2, 36))
            ThreePointArc((-38.2, 36), (-37.555634919, 37.555634919), (-36, 38.2))
        make_face(mode=Mode.SUBTRACT)
        with BuildLine():
            Line((-1.8, 36), (-1.8, 32.3))
            ThreePointArc((-1.8, 32.3), (-1.946446609, 31.946446609), (-2.3, 31.8))
            Line((-2.3, 31.8), (-7.7, 31.8))
            ThreePointArc((-7.7, 31.8), (-8.053553391, 31.946446609), (-8.2, 32.3))
            Line((-8.2, 32.3), (-8.2, 37.7))
            ThreePointArc((-8.2, 37.7), (-8.053553391, 38.053553391), (-7.7, 38.2))
            Line((-7.7, 38.2), (-4, 38.2))
            ThreePointArc((-4, 38.2), (-2.444365081, 37.555634919), (-1.8, 36))
        make_face(mode=Mode.SUBTRACT)
    extrude(amount=-BOSS_EXTRU_1_DEPTH)


solid = part.part
